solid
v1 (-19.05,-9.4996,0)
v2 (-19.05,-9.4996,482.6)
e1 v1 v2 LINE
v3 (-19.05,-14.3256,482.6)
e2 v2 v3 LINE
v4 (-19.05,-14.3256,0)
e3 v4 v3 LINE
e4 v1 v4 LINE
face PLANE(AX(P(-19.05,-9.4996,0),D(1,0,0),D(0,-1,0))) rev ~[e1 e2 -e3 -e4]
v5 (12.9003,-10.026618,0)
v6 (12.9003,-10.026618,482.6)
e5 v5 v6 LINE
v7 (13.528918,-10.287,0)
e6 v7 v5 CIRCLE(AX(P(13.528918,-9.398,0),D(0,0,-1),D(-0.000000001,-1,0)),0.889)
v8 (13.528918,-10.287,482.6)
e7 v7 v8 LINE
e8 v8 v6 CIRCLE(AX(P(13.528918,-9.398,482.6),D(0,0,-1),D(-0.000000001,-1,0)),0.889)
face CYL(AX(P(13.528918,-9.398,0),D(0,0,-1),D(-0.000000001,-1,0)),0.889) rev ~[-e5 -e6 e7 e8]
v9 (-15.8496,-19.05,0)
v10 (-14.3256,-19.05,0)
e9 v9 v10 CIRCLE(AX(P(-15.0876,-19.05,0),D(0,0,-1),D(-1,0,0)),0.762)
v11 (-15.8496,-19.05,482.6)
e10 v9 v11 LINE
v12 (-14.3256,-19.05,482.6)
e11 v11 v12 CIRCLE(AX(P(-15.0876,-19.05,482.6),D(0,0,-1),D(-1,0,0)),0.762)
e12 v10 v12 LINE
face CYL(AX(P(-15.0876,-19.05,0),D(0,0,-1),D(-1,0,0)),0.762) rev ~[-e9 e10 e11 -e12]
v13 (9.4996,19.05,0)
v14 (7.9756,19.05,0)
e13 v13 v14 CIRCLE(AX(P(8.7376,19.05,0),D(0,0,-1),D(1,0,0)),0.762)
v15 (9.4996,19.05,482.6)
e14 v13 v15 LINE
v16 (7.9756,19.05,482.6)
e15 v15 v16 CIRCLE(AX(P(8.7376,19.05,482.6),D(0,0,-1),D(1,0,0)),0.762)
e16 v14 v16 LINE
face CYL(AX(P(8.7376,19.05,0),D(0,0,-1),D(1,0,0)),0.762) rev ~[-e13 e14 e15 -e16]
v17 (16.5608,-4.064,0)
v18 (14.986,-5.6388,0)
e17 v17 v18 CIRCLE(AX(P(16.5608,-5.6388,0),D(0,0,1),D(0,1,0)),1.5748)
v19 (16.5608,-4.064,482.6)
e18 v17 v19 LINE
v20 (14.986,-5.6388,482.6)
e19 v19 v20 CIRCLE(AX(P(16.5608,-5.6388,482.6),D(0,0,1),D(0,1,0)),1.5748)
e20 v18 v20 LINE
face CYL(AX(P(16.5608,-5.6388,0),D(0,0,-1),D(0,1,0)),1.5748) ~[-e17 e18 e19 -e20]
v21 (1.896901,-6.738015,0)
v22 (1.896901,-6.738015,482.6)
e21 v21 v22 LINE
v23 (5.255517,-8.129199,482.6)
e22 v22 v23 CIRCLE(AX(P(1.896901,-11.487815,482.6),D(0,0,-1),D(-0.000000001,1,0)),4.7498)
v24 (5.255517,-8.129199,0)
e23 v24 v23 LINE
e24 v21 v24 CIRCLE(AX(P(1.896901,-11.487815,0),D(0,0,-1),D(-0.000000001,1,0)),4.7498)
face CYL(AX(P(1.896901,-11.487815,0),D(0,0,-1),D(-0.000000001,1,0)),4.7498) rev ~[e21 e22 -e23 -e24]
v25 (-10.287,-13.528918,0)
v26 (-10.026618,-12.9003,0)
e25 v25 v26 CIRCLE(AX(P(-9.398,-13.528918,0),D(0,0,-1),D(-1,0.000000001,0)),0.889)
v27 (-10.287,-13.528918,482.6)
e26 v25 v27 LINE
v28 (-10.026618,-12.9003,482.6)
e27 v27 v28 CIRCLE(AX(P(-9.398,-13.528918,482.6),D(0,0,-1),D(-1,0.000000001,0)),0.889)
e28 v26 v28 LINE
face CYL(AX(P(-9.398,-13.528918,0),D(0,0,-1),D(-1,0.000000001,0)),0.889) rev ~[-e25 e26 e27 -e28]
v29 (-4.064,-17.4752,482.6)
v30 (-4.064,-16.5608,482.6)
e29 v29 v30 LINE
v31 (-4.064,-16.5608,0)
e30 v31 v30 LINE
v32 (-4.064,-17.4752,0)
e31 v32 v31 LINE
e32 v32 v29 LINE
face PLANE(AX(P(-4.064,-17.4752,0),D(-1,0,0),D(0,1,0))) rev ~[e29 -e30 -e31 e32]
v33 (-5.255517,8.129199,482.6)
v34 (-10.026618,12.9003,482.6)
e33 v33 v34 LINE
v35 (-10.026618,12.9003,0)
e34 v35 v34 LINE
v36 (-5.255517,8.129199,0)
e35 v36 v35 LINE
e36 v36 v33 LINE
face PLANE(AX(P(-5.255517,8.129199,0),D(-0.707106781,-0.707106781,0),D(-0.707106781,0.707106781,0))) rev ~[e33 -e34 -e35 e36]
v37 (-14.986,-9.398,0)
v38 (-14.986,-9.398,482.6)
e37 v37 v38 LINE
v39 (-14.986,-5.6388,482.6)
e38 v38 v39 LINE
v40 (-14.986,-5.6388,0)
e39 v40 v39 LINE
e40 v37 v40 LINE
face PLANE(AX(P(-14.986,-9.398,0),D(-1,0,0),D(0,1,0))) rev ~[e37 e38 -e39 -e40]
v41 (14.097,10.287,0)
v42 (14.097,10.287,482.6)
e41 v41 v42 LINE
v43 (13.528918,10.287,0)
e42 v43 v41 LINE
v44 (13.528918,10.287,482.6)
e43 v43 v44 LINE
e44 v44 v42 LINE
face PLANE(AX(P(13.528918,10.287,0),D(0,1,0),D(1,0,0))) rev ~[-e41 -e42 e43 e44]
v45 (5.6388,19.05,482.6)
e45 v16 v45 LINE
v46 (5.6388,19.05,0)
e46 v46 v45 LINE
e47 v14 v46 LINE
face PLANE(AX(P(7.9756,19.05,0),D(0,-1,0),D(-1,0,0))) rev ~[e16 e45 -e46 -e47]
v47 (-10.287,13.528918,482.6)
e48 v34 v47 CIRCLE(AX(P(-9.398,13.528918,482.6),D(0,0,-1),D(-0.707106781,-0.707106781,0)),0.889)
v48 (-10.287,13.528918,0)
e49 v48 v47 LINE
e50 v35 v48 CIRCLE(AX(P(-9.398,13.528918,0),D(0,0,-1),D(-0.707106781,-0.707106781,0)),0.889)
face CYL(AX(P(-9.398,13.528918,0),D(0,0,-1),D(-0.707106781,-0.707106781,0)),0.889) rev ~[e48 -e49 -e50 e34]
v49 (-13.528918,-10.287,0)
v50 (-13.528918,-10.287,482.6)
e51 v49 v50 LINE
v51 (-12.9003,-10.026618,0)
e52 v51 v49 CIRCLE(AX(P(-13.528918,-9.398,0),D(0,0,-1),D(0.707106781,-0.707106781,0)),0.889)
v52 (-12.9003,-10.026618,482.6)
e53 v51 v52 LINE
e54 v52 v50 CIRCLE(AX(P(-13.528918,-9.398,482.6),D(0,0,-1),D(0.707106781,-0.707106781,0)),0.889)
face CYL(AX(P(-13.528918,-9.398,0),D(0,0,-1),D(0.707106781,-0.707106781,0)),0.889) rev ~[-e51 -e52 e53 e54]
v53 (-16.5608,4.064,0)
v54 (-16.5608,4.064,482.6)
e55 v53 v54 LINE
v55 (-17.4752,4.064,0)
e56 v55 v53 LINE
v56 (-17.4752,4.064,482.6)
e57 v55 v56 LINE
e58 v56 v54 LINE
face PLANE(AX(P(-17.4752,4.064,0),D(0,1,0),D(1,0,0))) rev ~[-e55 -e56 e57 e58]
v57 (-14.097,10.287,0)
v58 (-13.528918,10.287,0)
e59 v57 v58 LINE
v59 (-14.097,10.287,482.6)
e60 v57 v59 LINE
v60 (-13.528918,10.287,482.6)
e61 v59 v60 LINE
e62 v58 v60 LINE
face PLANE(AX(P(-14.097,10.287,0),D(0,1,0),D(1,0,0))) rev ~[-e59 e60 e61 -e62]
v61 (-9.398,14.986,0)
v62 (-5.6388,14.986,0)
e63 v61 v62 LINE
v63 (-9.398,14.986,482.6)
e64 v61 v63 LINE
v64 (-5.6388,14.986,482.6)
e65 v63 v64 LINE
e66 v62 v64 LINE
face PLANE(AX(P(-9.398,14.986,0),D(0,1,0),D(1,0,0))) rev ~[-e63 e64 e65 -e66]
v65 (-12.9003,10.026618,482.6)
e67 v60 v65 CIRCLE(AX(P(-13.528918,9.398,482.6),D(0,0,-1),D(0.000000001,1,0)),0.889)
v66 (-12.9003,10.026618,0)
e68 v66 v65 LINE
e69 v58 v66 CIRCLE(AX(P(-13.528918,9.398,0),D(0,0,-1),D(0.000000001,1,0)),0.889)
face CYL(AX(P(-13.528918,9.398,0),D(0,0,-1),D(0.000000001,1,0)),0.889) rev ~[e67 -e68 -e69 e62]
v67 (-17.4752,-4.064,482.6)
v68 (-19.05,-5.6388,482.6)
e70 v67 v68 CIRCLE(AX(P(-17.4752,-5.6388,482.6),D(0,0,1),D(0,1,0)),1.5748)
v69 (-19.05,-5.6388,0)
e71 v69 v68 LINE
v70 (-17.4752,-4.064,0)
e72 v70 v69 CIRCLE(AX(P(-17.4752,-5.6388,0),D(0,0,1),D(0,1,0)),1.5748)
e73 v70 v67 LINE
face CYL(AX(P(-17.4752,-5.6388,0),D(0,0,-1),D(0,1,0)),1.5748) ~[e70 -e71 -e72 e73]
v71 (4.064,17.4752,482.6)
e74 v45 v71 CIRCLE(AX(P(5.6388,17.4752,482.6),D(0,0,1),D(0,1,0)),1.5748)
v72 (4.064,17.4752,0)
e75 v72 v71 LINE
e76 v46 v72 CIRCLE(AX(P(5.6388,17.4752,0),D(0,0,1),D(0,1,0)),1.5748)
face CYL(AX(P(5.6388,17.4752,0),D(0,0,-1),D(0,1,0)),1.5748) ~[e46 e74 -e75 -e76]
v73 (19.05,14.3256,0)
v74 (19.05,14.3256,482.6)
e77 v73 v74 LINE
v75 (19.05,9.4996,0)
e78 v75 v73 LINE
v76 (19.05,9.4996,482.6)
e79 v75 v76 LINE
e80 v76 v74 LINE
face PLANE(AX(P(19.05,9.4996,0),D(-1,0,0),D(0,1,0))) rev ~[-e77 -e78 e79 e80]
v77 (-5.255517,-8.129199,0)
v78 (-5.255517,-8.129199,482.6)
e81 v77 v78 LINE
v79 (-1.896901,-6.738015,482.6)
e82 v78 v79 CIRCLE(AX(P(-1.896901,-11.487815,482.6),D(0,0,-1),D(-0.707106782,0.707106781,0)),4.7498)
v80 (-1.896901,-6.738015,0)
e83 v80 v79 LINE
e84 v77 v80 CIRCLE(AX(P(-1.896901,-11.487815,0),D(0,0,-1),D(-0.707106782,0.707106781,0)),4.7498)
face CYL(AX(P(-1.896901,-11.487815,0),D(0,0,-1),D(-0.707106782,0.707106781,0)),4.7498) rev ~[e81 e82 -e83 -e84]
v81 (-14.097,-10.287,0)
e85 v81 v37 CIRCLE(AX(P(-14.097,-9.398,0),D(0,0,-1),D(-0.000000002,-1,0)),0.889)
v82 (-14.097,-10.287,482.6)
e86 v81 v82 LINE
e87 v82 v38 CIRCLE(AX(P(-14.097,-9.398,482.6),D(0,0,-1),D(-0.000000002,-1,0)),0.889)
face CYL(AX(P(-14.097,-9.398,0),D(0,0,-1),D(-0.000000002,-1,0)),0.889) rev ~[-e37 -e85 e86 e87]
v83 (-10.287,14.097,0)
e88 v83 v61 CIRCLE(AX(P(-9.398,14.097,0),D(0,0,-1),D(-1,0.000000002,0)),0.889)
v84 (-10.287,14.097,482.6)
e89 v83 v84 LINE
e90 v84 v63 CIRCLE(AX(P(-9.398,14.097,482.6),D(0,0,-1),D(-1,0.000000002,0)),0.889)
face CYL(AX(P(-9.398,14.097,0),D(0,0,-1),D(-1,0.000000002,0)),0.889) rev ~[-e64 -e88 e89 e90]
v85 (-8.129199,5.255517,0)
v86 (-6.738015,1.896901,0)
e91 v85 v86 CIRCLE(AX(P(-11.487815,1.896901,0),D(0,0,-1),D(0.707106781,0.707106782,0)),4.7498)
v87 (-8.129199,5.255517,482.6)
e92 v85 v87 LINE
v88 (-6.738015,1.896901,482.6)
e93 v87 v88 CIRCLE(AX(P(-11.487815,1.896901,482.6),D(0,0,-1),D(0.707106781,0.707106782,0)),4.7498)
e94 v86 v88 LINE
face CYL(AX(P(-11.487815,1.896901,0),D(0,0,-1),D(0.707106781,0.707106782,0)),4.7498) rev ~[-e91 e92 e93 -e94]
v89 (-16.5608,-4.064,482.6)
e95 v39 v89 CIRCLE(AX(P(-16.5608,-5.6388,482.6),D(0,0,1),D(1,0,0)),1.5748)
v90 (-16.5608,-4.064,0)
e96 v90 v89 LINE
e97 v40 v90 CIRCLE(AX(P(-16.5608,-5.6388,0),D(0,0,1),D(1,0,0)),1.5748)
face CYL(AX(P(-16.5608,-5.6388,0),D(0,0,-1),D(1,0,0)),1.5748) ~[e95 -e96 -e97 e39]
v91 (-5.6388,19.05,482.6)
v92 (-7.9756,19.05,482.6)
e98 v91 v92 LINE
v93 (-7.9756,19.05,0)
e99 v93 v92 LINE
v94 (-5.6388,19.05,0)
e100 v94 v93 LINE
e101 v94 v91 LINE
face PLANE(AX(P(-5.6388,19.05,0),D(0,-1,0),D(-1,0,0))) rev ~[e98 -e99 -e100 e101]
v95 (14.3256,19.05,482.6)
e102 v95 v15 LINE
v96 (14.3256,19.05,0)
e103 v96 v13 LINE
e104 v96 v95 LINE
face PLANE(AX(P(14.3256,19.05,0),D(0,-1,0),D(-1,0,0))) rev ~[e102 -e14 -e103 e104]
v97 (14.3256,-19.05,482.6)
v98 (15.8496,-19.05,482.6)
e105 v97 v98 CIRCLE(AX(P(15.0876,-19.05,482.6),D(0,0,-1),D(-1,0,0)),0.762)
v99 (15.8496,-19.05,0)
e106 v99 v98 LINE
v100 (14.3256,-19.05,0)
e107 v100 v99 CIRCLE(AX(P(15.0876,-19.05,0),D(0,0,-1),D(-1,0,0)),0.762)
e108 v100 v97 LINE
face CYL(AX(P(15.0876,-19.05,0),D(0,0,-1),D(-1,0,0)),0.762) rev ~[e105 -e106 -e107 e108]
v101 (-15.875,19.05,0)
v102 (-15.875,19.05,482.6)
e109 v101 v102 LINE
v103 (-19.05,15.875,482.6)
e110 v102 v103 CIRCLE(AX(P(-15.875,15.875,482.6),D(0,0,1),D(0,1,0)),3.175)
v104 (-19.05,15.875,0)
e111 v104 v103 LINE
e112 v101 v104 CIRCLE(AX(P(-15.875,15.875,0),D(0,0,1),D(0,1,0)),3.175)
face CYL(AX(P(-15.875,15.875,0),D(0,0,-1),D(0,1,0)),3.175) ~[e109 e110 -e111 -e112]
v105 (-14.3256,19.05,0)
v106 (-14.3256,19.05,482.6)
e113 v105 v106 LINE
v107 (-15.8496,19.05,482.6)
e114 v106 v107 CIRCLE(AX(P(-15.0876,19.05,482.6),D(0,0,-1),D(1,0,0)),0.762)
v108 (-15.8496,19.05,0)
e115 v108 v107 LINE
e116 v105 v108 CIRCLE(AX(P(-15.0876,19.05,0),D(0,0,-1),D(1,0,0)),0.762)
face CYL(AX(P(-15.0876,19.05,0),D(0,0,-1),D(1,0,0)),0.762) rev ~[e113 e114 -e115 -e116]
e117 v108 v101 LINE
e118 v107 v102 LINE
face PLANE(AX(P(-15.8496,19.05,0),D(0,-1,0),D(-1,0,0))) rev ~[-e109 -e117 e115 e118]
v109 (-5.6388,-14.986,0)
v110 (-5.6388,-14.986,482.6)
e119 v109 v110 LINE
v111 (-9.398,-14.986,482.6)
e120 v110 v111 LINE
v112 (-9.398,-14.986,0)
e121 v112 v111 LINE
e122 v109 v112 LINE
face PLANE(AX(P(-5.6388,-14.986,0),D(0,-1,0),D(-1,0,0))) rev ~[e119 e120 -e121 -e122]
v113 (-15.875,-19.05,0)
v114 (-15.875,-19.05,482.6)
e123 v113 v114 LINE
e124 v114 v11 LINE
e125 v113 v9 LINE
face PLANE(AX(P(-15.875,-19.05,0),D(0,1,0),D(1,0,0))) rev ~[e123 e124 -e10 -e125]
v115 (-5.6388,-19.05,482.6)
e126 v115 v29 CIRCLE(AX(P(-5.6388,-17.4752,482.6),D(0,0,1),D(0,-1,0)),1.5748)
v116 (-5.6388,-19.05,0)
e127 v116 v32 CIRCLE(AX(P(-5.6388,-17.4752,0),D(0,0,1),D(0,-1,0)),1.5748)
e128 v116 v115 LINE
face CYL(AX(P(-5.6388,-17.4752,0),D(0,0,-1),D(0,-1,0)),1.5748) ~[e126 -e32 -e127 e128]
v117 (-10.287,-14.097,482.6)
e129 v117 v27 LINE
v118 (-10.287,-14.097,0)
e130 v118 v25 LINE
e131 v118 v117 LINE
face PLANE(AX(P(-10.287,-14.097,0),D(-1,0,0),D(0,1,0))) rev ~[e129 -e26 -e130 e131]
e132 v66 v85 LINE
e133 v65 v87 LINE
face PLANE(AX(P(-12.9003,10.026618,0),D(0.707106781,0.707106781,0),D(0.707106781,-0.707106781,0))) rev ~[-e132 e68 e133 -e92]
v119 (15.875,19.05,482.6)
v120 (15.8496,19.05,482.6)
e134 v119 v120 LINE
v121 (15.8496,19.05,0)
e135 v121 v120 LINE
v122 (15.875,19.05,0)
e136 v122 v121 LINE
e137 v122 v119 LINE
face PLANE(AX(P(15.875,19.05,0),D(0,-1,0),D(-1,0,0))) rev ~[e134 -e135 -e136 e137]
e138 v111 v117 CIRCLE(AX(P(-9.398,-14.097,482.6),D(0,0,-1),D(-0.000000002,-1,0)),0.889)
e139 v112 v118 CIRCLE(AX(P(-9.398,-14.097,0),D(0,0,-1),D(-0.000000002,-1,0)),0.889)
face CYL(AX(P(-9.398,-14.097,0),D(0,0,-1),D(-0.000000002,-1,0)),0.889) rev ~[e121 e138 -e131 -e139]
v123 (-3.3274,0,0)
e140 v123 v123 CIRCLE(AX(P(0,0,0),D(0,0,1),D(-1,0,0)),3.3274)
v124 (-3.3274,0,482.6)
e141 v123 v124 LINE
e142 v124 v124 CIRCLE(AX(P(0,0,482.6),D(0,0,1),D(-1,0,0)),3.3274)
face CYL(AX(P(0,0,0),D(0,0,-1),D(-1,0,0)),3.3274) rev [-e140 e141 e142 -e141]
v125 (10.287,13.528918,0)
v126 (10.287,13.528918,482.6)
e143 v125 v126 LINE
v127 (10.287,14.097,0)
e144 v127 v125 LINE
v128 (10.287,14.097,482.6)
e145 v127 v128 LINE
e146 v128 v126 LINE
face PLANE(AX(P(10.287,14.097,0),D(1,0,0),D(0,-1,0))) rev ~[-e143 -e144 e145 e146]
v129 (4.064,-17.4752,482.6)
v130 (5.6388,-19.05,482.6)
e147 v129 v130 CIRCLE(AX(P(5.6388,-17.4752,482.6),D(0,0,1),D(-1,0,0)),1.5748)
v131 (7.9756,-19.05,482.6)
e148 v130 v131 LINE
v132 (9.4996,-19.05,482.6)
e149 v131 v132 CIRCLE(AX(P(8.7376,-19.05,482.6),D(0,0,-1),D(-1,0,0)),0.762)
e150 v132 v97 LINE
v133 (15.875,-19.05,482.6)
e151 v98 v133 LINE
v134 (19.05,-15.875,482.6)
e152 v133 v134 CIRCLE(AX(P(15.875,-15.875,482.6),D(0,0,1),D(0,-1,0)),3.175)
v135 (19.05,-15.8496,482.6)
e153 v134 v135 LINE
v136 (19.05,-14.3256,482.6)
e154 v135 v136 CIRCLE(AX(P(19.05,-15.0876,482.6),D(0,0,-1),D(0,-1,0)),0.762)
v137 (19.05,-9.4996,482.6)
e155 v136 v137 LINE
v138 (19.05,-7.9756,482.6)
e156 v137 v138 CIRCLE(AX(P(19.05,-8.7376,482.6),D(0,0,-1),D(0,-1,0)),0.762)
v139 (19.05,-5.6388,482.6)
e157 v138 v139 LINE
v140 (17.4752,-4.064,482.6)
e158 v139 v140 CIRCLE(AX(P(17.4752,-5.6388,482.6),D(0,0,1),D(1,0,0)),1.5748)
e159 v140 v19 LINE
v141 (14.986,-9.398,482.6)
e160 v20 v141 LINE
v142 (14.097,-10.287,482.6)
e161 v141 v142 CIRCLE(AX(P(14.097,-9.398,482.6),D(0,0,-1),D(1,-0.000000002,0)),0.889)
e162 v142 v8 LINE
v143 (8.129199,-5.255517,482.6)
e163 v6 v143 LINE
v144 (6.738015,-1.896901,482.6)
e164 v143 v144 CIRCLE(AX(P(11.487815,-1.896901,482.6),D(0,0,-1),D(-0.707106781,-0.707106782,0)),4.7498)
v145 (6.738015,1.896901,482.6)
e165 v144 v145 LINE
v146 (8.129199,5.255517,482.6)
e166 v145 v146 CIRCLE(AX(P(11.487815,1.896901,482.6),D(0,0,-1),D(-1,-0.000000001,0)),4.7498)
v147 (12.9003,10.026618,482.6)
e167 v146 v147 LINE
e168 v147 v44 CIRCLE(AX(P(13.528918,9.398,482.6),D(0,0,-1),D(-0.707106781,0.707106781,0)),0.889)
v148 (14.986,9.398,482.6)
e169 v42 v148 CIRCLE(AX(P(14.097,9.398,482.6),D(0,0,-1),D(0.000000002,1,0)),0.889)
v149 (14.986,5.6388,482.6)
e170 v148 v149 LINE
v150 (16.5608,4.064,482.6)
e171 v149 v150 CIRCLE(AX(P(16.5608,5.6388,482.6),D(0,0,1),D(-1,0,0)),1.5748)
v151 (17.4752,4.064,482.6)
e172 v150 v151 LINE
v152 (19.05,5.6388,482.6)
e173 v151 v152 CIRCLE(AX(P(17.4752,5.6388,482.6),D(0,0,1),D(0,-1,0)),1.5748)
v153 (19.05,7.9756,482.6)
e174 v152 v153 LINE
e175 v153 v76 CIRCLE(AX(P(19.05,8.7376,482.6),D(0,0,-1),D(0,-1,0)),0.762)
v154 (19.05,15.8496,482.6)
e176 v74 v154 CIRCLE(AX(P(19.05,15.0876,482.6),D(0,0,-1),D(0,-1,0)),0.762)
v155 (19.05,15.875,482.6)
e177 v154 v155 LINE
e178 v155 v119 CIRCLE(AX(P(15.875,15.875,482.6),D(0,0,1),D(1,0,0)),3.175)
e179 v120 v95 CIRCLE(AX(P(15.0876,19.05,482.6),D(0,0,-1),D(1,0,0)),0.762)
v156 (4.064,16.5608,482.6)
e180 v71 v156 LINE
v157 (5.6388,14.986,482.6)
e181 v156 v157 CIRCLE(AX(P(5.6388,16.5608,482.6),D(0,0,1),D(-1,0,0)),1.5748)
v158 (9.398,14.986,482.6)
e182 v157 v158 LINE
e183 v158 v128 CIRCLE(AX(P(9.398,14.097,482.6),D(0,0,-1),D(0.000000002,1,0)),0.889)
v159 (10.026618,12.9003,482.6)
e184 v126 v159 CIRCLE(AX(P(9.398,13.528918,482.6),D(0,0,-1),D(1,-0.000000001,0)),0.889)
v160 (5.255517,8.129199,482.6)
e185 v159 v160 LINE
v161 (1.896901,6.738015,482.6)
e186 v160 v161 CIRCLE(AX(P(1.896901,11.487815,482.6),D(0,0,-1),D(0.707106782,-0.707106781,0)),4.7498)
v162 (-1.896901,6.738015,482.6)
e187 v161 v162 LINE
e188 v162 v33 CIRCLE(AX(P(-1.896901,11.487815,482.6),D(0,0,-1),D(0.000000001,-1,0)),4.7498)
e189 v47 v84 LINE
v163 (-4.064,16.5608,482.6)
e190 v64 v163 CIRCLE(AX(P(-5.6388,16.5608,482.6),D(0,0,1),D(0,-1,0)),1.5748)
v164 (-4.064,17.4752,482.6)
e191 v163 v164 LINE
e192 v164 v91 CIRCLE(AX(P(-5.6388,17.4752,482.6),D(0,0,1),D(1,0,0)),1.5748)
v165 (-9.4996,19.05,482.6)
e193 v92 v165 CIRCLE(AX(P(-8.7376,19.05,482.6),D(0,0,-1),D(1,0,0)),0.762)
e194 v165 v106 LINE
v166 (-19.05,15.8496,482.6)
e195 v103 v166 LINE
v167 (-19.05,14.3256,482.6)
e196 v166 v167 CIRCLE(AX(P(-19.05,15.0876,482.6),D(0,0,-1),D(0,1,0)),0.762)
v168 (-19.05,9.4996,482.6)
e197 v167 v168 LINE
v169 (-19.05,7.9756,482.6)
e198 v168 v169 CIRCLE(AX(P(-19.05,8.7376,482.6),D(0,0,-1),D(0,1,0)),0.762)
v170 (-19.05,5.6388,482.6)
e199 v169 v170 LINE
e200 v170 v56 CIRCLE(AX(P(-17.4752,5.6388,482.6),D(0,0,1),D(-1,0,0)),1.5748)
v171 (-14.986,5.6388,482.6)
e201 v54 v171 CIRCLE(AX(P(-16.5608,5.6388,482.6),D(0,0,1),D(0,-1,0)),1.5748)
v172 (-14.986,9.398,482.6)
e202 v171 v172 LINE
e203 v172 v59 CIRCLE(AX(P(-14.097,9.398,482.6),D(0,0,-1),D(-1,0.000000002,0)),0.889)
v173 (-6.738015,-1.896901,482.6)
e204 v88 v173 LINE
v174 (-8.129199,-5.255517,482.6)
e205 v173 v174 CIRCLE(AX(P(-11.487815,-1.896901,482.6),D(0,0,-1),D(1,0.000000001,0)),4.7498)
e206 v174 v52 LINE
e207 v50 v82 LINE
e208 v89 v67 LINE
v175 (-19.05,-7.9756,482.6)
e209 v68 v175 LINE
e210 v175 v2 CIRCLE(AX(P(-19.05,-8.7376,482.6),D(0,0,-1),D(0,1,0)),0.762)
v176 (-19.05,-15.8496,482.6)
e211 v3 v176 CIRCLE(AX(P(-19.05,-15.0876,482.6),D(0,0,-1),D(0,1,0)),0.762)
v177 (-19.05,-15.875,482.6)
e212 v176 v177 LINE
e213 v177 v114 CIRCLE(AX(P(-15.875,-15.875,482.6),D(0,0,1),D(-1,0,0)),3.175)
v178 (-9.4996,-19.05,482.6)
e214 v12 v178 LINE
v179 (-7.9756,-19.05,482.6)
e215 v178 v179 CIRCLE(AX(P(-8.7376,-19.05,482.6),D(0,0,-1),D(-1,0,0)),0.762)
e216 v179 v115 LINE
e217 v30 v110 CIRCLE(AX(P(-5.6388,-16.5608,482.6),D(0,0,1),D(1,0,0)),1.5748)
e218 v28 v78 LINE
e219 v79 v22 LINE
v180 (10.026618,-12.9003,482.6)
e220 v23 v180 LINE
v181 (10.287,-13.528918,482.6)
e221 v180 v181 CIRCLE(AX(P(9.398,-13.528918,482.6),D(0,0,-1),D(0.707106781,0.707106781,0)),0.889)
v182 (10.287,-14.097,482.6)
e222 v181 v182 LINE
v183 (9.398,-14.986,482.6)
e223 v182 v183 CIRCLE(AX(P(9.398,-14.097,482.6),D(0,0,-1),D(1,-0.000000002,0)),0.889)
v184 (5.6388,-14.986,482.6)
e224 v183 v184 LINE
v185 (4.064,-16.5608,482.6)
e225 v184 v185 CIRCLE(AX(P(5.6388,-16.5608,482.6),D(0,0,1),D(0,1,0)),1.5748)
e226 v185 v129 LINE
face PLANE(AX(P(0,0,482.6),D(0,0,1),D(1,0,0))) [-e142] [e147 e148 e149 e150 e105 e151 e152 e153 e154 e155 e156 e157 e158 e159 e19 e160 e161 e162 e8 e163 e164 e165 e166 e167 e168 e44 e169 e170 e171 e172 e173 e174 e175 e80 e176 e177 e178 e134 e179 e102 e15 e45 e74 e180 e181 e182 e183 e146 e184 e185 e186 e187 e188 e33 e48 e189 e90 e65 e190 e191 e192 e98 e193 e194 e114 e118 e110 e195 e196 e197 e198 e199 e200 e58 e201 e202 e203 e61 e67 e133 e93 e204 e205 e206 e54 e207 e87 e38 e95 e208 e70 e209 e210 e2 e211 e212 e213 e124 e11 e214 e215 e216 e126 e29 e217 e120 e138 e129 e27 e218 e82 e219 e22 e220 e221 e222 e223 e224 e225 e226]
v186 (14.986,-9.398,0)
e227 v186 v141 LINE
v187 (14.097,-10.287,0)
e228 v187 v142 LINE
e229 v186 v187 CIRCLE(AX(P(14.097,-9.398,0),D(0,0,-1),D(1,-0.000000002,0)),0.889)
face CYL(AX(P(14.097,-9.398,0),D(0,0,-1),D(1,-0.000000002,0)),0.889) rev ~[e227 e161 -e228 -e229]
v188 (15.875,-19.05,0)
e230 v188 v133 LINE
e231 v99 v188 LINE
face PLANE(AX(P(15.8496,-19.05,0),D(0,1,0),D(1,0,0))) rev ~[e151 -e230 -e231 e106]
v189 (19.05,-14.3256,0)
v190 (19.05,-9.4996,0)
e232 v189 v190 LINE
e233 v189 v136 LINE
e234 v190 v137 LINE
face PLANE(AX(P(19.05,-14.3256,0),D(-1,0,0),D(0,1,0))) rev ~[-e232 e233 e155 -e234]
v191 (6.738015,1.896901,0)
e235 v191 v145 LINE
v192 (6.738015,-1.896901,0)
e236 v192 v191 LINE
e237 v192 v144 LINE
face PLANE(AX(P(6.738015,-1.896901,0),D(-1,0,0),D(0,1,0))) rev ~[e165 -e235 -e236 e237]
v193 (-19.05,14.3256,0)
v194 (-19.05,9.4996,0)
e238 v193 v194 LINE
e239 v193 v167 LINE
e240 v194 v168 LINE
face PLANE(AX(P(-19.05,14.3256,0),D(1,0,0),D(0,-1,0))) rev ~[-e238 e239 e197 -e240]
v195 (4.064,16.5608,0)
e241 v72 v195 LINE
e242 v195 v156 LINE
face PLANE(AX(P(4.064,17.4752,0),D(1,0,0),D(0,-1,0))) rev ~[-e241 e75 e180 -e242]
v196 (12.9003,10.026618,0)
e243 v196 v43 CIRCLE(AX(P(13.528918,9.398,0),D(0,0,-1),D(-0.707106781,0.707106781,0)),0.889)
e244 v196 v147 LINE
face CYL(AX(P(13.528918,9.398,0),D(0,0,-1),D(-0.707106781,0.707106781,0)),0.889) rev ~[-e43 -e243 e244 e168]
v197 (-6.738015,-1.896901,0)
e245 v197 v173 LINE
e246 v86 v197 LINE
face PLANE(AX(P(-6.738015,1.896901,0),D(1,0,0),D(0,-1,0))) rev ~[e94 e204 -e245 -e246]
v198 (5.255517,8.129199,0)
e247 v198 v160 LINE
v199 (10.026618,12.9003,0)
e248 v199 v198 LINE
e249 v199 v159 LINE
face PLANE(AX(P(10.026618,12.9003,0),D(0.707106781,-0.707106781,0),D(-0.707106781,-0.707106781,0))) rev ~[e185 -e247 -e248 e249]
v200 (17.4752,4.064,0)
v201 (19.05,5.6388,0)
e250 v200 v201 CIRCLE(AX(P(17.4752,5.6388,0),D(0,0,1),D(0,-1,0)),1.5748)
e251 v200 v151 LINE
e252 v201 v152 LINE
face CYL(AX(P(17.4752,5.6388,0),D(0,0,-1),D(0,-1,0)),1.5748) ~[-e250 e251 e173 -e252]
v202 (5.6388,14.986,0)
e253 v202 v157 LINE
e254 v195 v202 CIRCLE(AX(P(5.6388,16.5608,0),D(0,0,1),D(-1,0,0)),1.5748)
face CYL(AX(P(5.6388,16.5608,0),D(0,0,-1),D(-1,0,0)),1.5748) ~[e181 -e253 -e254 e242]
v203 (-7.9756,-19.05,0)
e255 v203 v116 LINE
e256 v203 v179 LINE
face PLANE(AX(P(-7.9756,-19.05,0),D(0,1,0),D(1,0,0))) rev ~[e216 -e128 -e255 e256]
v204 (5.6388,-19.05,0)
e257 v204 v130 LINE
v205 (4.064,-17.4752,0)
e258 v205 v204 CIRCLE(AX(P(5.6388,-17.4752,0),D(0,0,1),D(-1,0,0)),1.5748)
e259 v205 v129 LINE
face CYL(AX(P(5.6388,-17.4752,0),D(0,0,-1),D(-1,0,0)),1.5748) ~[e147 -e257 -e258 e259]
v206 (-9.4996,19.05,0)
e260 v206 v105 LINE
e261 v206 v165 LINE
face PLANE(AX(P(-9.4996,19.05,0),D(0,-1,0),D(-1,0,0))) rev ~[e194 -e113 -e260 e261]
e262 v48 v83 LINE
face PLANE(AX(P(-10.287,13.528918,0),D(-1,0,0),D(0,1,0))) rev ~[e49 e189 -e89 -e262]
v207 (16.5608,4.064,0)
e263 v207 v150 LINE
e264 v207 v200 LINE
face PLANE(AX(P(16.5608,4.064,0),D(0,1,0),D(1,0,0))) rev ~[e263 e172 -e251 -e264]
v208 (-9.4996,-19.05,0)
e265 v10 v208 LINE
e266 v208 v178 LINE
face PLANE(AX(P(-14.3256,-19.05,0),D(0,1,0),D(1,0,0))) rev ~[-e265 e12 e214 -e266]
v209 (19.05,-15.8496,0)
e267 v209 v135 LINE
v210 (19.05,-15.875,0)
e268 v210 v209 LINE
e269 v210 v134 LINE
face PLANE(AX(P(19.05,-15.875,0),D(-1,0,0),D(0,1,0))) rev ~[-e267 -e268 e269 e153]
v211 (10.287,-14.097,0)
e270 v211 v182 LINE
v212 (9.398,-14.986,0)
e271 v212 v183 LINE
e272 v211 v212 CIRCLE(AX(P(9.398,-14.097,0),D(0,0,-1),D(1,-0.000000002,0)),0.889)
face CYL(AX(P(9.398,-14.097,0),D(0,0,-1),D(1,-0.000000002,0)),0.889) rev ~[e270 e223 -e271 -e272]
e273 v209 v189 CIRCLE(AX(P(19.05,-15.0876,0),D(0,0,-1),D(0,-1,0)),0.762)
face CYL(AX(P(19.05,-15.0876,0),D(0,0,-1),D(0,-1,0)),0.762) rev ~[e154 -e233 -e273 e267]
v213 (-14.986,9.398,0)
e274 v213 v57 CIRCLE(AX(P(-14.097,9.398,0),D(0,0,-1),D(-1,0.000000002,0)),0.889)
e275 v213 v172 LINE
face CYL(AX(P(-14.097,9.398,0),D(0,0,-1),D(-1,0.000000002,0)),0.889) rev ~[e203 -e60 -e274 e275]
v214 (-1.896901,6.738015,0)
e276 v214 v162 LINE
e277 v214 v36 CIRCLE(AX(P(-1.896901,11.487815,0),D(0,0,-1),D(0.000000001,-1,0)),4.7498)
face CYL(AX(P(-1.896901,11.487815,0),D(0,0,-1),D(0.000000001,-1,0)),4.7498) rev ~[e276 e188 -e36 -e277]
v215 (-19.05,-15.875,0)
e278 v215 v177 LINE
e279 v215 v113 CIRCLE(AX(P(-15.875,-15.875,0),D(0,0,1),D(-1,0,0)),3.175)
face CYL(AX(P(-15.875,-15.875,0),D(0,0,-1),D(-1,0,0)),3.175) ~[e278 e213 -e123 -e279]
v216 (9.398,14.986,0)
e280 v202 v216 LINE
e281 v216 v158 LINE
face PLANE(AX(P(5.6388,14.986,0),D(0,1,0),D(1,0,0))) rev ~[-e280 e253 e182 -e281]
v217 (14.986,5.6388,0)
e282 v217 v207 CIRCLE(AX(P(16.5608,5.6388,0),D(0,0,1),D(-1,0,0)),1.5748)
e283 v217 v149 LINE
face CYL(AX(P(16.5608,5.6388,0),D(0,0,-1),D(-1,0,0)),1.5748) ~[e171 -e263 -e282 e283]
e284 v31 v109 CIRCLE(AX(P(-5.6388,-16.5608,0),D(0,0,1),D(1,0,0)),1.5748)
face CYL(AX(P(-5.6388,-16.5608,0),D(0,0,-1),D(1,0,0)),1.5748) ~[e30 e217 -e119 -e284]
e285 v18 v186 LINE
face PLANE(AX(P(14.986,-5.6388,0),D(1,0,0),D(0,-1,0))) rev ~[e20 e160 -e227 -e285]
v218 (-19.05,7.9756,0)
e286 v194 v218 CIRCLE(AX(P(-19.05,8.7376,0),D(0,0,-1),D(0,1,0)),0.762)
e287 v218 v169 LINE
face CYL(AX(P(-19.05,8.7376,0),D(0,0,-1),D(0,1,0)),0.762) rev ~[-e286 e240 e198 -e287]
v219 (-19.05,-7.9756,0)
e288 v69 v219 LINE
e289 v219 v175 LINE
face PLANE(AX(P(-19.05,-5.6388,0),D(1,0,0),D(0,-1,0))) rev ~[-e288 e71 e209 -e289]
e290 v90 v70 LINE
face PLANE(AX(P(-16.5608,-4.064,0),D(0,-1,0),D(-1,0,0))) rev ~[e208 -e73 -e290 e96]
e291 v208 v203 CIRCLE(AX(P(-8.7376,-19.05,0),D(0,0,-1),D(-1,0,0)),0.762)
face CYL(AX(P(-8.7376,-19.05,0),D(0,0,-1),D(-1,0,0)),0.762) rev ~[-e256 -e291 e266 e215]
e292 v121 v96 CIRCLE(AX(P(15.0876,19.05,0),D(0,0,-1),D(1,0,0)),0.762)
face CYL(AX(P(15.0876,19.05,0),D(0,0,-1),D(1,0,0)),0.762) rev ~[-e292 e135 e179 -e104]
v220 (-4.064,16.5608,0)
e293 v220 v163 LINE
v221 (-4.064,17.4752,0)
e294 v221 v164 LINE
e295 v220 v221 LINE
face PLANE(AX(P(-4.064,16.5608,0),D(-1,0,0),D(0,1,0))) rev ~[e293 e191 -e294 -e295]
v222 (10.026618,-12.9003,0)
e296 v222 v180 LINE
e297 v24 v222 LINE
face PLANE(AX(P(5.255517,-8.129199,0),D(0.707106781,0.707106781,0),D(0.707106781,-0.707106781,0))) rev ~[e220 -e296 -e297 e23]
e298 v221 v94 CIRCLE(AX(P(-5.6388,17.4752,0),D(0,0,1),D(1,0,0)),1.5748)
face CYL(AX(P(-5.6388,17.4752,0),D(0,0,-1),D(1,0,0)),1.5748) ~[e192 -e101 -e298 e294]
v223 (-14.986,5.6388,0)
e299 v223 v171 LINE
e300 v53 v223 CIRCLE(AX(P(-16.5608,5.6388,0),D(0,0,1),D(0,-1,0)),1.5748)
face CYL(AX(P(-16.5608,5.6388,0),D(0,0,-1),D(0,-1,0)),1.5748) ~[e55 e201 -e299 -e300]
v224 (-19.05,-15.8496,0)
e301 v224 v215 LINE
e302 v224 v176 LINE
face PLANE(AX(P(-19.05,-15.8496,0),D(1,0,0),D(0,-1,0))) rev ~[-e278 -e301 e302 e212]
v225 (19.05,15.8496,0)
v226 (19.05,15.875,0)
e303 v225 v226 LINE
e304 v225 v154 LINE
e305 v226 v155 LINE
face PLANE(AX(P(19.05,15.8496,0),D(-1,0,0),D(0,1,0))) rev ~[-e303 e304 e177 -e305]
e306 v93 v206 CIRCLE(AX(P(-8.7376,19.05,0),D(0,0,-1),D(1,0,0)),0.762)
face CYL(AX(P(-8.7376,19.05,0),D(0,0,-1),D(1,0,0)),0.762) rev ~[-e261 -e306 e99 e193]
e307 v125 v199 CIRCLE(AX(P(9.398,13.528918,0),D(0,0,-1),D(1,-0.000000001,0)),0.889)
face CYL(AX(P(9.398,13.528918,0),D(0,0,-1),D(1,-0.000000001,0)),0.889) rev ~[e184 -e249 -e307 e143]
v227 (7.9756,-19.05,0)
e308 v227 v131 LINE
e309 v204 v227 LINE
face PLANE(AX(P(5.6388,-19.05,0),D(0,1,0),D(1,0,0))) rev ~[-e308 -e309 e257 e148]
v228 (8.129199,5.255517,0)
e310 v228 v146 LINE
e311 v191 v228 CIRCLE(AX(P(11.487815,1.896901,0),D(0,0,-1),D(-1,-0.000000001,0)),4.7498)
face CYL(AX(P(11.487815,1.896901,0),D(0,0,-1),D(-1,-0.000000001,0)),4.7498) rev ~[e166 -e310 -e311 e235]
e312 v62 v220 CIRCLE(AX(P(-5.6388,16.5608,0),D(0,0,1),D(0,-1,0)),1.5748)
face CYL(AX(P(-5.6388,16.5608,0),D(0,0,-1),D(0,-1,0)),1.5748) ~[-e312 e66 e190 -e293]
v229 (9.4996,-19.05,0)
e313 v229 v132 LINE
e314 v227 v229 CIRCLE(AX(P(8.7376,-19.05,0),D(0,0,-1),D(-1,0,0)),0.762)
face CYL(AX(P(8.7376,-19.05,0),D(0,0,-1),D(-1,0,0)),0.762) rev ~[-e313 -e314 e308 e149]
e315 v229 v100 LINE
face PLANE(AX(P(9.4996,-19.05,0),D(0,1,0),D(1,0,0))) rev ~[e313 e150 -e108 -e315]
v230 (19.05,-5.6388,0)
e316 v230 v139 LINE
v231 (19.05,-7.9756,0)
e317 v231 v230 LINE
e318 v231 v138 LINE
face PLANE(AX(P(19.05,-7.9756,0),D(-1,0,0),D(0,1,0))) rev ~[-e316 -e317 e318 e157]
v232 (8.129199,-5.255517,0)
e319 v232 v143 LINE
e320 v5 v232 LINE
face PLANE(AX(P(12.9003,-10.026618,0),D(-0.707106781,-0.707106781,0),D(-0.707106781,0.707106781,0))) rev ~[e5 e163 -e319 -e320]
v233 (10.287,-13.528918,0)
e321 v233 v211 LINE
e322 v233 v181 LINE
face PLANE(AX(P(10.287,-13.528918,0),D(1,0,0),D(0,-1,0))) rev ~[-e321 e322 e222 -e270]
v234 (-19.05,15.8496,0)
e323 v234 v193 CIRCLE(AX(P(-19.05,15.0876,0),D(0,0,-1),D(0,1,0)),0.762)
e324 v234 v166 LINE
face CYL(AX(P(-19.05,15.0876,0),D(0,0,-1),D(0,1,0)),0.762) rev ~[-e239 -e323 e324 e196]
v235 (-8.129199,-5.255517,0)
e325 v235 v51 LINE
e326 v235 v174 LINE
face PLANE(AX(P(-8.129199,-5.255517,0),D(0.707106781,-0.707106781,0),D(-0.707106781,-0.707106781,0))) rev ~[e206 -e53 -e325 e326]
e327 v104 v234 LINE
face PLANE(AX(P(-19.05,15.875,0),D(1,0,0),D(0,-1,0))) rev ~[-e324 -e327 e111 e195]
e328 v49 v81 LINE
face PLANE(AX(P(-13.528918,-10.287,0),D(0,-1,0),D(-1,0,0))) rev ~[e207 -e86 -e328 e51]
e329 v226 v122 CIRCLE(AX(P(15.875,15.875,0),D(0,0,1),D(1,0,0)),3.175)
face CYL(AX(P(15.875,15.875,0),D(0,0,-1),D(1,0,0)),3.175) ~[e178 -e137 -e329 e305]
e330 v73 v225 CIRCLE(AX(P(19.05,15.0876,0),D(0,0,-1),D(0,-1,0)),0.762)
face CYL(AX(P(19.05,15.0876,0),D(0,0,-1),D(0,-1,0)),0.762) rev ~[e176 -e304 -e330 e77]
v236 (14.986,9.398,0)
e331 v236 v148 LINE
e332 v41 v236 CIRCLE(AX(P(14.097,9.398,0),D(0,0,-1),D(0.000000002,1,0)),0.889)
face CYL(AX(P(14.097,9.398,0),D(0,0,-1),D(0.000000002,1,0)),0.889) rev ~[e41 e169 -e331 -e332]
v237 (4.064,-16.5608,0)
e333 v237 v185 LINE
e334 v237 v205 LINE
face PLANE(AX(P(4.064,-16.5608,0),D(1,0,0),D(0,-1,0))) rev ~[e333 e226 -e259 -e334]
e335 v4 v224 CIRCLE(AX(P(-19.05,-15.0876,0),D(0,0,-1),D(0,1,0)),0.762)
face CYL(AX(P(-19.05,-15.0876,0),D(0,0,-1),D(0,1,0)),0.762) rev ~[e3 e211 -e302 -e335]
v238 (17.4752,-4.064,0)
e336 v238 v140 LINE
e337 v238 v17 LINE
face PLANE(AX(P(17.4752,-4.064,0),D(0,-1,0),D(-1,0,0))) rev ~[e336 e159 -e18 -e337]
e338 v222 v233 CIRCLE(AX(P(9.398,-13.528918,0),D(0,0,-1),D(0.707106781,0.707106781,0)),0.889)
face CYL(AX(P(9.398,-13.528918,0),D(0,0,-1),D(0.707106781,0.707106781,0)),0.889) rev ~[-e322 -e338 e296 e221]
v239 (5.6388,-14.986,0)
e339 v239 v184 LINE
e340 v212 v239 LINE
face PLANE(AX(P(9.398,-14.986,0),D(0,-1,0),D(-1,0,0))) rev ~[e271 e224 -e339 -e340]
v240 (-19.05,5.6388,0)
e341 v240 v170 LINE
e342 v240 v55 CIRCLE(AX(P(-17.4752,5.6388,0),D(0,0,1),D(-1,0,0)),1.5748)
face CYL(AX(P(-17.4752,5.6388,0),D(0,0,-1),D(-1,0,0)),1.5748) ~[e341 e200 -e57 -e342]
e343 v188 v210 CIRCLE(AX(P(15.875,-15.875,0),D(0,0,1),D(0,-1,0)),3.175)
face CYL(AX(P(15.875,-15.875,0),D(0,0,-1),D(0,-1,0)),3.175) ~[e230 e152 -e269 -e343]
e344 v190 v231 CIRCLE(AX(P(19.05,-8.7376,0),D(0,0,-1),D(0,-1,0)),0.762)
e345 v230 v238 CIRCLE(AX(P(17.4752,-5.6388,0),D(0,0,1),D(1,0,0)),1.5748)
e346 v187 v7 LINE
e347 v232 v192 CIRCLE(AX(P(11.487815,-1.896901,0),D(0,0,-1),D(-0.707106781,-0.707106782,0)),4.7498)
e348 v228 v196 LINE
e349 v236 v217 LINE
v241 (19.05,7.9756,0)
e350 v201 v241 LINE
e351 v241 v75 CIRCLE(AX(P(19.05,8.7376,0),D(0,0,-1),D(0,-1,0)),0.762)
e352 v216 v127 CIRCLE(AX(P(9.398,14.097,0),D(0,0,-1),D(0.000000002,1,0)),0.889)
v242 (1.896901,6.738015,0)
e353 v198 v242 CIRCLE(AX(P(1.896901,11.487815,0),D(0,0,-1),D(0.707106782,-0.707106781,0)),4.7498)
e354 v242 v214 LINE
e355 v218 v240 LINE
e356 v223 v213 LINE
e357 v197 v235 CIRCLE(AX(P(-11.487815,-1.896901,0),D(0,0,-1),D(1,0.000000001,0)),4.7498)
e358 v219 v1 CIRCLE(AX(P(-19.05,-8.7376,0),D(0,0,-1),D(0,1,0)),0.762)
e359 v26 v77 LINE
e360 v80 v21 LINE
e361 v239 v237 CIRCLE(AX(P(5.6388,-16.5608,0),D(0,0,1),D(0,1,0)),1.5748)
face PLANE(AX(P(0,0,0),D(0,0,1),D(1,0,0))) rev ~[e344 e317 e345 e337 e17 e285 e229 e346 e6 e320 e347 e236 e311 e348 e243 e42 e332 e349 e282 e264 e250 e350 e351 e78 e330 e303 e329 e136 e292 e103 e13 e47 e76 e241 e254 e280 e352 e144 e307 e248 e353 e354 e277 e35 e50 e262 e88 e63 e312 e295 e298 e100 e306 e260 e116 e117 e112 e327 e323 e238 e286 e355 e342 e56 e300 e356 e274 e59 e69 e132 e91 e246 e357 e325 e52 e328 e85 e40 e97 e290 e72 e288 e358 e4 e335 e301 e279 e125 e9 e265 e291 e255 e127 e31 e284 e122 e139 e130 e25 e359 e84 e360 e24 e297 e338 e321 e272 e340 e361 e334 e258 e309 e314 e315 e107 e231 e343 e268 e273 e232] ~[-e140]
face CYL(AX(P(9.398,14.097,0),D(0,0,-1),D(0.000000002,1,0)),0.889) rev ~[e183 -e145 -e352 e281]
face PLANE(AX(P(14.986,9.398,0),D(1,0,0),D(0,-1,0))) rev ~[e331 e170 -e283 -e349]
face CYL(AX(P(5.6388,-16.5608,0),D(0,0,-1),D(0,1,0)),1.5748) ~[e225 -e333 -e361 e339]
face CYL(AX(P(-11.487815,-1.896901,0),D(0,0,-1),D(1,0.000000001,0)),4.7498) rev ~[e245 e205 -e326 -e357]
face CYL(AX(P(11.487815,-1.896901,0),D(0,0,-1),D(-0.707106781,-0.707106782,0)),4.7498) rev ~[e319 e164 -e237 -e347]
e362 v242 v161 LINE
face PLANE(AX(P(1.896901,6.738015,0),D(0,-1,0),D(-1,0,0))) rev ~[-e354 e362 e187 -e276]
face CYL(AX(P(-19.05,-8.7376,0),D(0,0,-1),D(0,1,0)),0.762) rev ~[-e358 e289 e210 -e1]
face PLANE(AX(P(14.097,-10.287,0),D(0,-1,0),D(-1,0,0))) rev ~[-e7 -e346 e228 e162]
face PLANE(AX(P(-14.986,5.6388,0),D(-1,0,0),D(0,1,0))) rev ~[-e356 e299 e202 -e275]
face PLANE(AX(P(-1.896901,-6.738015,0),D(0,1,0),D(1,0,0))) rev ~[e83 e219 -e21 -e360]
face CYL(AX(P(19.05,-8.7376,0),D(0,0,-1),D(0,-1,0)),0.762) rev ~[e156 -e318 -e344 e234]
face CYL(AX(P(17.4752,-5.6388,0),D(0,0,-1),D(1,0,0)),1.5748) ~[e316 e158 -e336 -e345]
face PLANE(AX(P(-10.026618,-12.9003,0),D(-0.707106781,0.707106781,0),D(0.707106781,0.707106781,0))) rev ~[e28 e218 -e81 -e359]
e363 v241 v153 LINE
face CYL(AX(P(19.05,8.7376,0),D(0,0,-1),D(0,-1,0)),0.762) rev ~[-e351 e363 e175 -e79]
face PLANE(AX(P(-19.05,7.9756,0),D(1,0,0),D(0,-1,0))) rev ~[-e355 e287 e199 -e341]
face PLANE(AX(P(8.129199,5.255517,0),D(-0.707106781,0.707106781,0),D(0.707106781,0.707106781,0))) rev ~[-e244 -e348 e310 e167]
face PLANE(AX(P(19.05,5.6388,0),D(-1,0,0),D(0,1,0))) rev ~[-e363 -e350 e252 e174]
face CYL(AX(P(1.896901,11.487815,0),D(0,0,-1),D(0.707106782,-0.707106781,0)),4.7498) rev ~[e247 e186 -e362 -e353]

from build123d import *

# Parameters (mm, degrees)
SKETCH1_R           = 3.3274
BOSS_EXTRUDE1_DEPTH = 482.6


with BuildPart() as part:
    # Sketch1 → Boss-Extrude1 (new body)
    with BuildSketch(Plane.XY):
        with BuildLine():
            Line((-14.097, 10.287), (-13.528918, 10.287))
            ThreePointArc((-13.528918, 10.287), (-13.188712428, 10.219328904), (-12.900300071, 10.026617928))
            Line((-12.900300071, 10.026617928), (-8.129198975, 5.255516832))
            ThreePointArc((-8.129198975, 5.255516832), (-7.09957176, 3.71457081), (-6.738014764, 1.896901043))
            Line((-6.738014764, 1.896901043), (-6.738014764, -1.896901043))
            ThreePointArc((-6.738014764, -1.896901043), (-7.09957176, -3.71457081), (-8.129198975, -5.255516832))
            Line((-8.129198975, -5.255516832), (-12.900300071, -10.026617928))
            ThreePointArc((-12.900300071, -10.026617928), (-13.188712428, -10.219328904), (-13.528918, -10.287))
            Line((-13.528918, -10.287), (-14.097, -10.287))
            ThreePointArc((-14.097, -10.287), (-14.725617928, -10.026617928), (-14.986, -9.398))
            Line((-14.986, -9.398), (-14.986, -5.6388))
            ThreePointArc((-14.986, -5.6388), (-15.447248241, -4.525248241), (-16.5608, -4.064))
            Line((-16.5608, -4.064), (-17.4752, -4.064))
            ThreePointArc((-17.4752, -4.064), (-18.588751759, -4.525248241), (-19.05, -5.6388))
            Line((-19.05, -5.6388), (-19.05, -7.9756))
            ThreePointArc((-19.05, -7.9756), (-18.288, -8.7376), (-19.05, -9.4996))
            Line((-19.05, -9.4996), (-19.05, -14.3256))
            ThreePointArc((-19.05, -14.3256), (-18.288, -15.0876), (-19.05, -15.8496))
            Line((-19.05, -15.8496), (-19.05, -15.875))
            ThreePointArc((-19.05, -15.875), (-18.12006403, -18.12006403), (-15.875, -19.05))
            Line((-15.875, -19.05), (-15.8496, -19.05))
            ThreePointArc((-15.8496, -19.05), (-15.0876, -18.288), (-14.3256, -19.05))
            Line((-14.3256, -19.05), (-9.4996, -19.05))
            ThreePointArc((-9.4996, -19.05), (-8.7376, -18.288), (-7.9756, -19.05))
            Line((-7.9756, -19.05), (-5.6388, -19.05))
            ThreePointArc((-5.6388, -19.05), (-4.525248241, -18.588751759), (-4.064, -17.4752))
            Line((-4.064, -17.4752), (-4.064, -16.5608))
            ThreePointArc((-4.064, -16.5608), (-4.525248241, -15.447248241), (-5.6388, -14.986))
            Line((-5.6388, -14.986), (-9.398, -14.986))
            ThreePointArc((-9.398, -14.986), (-10.026617928, -14.725617928), (-10.287, -14.097))
            Line((-10.287, -14.097), (-10.287, -13.528918))
            ThreePointArc((-10.287, -13.528918), (-10.219328904, -13.188712428), (-10.026617928, -12.900300071))
            Line((-10.026617928, -12.900300071), (-5.255516832, -8.129198975))
            ThreePointArc((-5.255516832, -8.129198975), (-3.71457081, -7.09957176), (-1.896901043, -6.738014764))
            Line((-1.896901043, -6.738014764), (1.896901043, -6.738014764))
            ThreePointArc((1.896901043, -6.738014764), (3.71457081, -7.09957176), (5.255516832, -8.129198975))
            Line((5.255516832, -8.129198975), (10.026617928, -12.900300071))
            ThreePointArc((10.026617928, -12.900300071), (10.219328904, -13.188712428), (10.287, -13.528918))
            Line((10.287, -13.528918), (10.287, -14.097))
            ThreePointArc((10.287, -14.097), (10.026617928, -14.725617928), (9.398, -14.986))
            Line((9.398, -14.986), (5.6388, -14.986))
            ThreePointArc((5.6388, -14.986), (4.525248241, -15.447248241), (4.064, -16.5608))
            Line((4.064, -16.5608), (4.064, -17.4752))
            ThreePointArc((4.064, -17.4752), (4.525248241, -18.588751759), (5.6388, -19.05))
            Line((5.6388, -19.05), (7.9756, -19.05))
            ThreePointArc((7.9756, -19.05), (8.7376, -18.288), (9.4996, -19.05))
            Line((9.4996, -19.05), (14.3256, -19.05))
            ThreePointArc((14.3256, -19.05), (15.0876, -18.288), (15.8496, -19.05))
            Line((15.8496, -19.05), (15.875, -19.05))
            ThreePointArc((15.875, -19.05), (18.12006403, -18.12006403), (19.05, -15.875))
            Line((19.05, -15.875), (19.05, -15.8496))
            ThreePointArc((19.05, -15.8496), (18.288, -15.0876), (19.05, -14.3256))
            Line((19.05, -14.3256), (19.05, -9.4996))
            ThreePointArc((19.05, -9.4996), (18.288, -8.7376), (19.05, -7.9756))
            Line((19.05, -7.9756), (19.05, -5.6388))
            ThreePointArc((19.05, -5.6388), (18.588751759, -4.525248241), (17.4752, -4.064))
            Line((17.4752, -4.064), (16.5608, -4.064))
            ThreePointArc((16.5608, -4.064), (15.447248241, -4.525248241), (14.986, -5.6388))
            Line((14.986, -5.6388), (14.986, -9.398))
            ThreePointArc((14.986, -9.398), (14.725617928, -10.026617928), (14.097, -10.287))
            Line((14.097, -10.287), (13.528918, -10.287))
            ThreePointArc((13.528918, -10.287), (13.188712428, -10.219328904), (12.900300071, -10.026617928))
            Line((12.900300071, -10.026617928), (8.129198975, -5.255516832))
            ThreePointArc((8.129198975, -5.255516832), (7.09957176, -3.71457081), (6.738014764, -1.896901043))
            Line((6.738014764, -1.896901043), (6.738014764, 1.896901043))
            ThreePointArc((6.738014764, 1.896901043), (7.09957176, 3.71457081), (8.129198975, 5.255516832))
            Line((8.129198975, 5.255516832), (12.900300071, 10.026617928))
            ThreePointArc((12.900300071, 10.026617928), (13.188712428, 10.219328904), (13.528918, 10.287))
            Line((13.528918, 10.287), (14.097, 10.287))
            ThreePointArc((14.097, 10.287), (14.725617928, 10.026617928), (14.986, 9.398))
            Line((14.986, 9.398), (14.986, 5.6388))
            ThreePointArc((14.986, 5.6388), (15.447248241, 4.525248241), (16.5608, 4.064))
            Line((16.5608, 4.064), (17.4752, 4.064))
            ThreePointArc((17.4752, 4.064), (18.588751759, 4.525248241), (19.05, 5.6388))
            Line((19.05, 5.6388), (19.05, 7.9756))
            ThreePointArc((19.05, 7.9756), (18.288, 8.7376), (19.05, 9.4996))
            Line((19.05, 9.4996), (19.05, 14.3256))
            ThreePointArc((19.05, 14.3256), (18.288, 15.0876), (19.05, 15.8496))
            Line((19.05, 15.8496), (19.05, 15.875))
            ThreePointArc((19.05, 15.875), (18.12006403, 18.12006403), (15.875, 19.05))
            Line((15.875, 19.05), (15.8496, 19.05))
            ThreePointArc((15.8496, 19.05), (15.0876, 18.288), (14.3256, 19.05))
            Line((14.3256, 19.05), (9.4996, 19.05))
            ThreePointArc((9.4996, 19.05), (8.7376, 18.288), (7.9756, 19.05))
            Line((7.9756, 19.05), (5.6388, 19.05))
            ThreePointArc((5.6388, 19.05), (4.525248241, 18.588751759), (4.064, 17.4752))
            Line((4.064, 17.4752), (4.064, 16.5608))
            ThreePointArc((4.064, 16.5608), (4.525248241, 15.447248241), (5.6388, 14.986))
            Line((5.6388, 14.986), (9.398, 14.986))
            ThreePointArc((9.398, 14.986), (10.026617928, 14.725617928), (10.287, 14.097))
            Line((10.287, 14.097), (10.287, 13.528918))
            ThreePointArc((10.287, 13.528918), (10.219328904, 13.188712428), (10.026617928, 12.900300071))
            Line((10.026617928, 12.900300071), (5.255516832, 8.129198975))
            ThreePointArc((5.255516832, 8.129198975), (3.71457081, 7.09957176), (1.896901043, 6.738014764))
            Line((1.896901043, 6.738014764), (-1.896901043, 6.738014764))
            ThreePointArc((-1.896901043, 6.738014764), (-3.71457081, 7.09957176), (-5.255516832, 8.129198975))
            Line((-5.255516832, 8.129198975), (-10.026617928, 12.900300071))
            ThreePointArc((-10.026617928, 12.900300071), (-10.219328904, 13.188712428), (-10.287, 13.528918))
            Line((-10.287, 13.528918), (-10.287, 14.097))
            ThreePointArc((-10.287, 14.097), (-10.026617928, 14.725617928), (-9.398, 14.986))
            Line((-9.398, 14.986), (-5.6388, 14.986))
            ThreePointArc((-5.6388, 14.986), (-4.525248241, 15.447248241), (-4.064, 16.5608))
            Line((-4.064, 16.5608), (-4.064, 17.4752))
            ThreePointArc((-4.064, 17.4752), (-4.525248241, 18.588751759), (-5.6388, 19.05))
            Line((-5.6388, 19.05), (-7.9756, 19.05))
            ThreePointArc((-7.9756, 19.05), (-8.7376, 18.288), (-9.4996, 19.05))
            Line((-9.4996, 19.05), (-14.3256, 19.05))
            ThreePointArc((-14.3256, 19.05), (-15.0876, 18.288), (-15.8496, 19.05))
            Line((-15.8496, 19.05), (-15.875, 19.05))
            ThreePointArc((-15.875, 19.05), (-18.12006403, 18.12006403), (-19.05, 15.875))
            Line((-19.05, 15.875), (-19.05, 15.8496))
            ThreePointArc((-19.05, 15.8496), (-18.288, 15.0876), (-19.05, 14.3256))
            Line((-19.05, 14.3256), (-19.05, 9.4996))
            ThreePointArc((-19.05, 9.4996), (-18.288, 8.7376), (-19.05, 7.9756))
            Line((-19.05, 7.9756), (-19.05, 5.6388))
            ThreePointArc((-19.05, 5.6388), (-18.588751759, 4.525248241), (-17.4752, 4.064))
            Line((-17.4752, 4.064), (-16.5608, 4.064))
            ThreePointArc((-16.5608, 4.064), (-15.447248241, 4.525248241), (-14.986, 5.6388))
            Line((-14.986, 5.6388), (-14.986, 9.398))
            ThreePointArc((-14.986, 9.398), (-14.725617928, 10.026617928), (-14.097, 10.287))
        make_face()
        with Locations(Location((0, 0, 0), (0, 0, 180))):
            Circle(SKETCH1_R, mode=Mode.SUBTRACT)
    extrude(amount=BOSS_EXTRUDE1_DEPTH)


solid = part.part
